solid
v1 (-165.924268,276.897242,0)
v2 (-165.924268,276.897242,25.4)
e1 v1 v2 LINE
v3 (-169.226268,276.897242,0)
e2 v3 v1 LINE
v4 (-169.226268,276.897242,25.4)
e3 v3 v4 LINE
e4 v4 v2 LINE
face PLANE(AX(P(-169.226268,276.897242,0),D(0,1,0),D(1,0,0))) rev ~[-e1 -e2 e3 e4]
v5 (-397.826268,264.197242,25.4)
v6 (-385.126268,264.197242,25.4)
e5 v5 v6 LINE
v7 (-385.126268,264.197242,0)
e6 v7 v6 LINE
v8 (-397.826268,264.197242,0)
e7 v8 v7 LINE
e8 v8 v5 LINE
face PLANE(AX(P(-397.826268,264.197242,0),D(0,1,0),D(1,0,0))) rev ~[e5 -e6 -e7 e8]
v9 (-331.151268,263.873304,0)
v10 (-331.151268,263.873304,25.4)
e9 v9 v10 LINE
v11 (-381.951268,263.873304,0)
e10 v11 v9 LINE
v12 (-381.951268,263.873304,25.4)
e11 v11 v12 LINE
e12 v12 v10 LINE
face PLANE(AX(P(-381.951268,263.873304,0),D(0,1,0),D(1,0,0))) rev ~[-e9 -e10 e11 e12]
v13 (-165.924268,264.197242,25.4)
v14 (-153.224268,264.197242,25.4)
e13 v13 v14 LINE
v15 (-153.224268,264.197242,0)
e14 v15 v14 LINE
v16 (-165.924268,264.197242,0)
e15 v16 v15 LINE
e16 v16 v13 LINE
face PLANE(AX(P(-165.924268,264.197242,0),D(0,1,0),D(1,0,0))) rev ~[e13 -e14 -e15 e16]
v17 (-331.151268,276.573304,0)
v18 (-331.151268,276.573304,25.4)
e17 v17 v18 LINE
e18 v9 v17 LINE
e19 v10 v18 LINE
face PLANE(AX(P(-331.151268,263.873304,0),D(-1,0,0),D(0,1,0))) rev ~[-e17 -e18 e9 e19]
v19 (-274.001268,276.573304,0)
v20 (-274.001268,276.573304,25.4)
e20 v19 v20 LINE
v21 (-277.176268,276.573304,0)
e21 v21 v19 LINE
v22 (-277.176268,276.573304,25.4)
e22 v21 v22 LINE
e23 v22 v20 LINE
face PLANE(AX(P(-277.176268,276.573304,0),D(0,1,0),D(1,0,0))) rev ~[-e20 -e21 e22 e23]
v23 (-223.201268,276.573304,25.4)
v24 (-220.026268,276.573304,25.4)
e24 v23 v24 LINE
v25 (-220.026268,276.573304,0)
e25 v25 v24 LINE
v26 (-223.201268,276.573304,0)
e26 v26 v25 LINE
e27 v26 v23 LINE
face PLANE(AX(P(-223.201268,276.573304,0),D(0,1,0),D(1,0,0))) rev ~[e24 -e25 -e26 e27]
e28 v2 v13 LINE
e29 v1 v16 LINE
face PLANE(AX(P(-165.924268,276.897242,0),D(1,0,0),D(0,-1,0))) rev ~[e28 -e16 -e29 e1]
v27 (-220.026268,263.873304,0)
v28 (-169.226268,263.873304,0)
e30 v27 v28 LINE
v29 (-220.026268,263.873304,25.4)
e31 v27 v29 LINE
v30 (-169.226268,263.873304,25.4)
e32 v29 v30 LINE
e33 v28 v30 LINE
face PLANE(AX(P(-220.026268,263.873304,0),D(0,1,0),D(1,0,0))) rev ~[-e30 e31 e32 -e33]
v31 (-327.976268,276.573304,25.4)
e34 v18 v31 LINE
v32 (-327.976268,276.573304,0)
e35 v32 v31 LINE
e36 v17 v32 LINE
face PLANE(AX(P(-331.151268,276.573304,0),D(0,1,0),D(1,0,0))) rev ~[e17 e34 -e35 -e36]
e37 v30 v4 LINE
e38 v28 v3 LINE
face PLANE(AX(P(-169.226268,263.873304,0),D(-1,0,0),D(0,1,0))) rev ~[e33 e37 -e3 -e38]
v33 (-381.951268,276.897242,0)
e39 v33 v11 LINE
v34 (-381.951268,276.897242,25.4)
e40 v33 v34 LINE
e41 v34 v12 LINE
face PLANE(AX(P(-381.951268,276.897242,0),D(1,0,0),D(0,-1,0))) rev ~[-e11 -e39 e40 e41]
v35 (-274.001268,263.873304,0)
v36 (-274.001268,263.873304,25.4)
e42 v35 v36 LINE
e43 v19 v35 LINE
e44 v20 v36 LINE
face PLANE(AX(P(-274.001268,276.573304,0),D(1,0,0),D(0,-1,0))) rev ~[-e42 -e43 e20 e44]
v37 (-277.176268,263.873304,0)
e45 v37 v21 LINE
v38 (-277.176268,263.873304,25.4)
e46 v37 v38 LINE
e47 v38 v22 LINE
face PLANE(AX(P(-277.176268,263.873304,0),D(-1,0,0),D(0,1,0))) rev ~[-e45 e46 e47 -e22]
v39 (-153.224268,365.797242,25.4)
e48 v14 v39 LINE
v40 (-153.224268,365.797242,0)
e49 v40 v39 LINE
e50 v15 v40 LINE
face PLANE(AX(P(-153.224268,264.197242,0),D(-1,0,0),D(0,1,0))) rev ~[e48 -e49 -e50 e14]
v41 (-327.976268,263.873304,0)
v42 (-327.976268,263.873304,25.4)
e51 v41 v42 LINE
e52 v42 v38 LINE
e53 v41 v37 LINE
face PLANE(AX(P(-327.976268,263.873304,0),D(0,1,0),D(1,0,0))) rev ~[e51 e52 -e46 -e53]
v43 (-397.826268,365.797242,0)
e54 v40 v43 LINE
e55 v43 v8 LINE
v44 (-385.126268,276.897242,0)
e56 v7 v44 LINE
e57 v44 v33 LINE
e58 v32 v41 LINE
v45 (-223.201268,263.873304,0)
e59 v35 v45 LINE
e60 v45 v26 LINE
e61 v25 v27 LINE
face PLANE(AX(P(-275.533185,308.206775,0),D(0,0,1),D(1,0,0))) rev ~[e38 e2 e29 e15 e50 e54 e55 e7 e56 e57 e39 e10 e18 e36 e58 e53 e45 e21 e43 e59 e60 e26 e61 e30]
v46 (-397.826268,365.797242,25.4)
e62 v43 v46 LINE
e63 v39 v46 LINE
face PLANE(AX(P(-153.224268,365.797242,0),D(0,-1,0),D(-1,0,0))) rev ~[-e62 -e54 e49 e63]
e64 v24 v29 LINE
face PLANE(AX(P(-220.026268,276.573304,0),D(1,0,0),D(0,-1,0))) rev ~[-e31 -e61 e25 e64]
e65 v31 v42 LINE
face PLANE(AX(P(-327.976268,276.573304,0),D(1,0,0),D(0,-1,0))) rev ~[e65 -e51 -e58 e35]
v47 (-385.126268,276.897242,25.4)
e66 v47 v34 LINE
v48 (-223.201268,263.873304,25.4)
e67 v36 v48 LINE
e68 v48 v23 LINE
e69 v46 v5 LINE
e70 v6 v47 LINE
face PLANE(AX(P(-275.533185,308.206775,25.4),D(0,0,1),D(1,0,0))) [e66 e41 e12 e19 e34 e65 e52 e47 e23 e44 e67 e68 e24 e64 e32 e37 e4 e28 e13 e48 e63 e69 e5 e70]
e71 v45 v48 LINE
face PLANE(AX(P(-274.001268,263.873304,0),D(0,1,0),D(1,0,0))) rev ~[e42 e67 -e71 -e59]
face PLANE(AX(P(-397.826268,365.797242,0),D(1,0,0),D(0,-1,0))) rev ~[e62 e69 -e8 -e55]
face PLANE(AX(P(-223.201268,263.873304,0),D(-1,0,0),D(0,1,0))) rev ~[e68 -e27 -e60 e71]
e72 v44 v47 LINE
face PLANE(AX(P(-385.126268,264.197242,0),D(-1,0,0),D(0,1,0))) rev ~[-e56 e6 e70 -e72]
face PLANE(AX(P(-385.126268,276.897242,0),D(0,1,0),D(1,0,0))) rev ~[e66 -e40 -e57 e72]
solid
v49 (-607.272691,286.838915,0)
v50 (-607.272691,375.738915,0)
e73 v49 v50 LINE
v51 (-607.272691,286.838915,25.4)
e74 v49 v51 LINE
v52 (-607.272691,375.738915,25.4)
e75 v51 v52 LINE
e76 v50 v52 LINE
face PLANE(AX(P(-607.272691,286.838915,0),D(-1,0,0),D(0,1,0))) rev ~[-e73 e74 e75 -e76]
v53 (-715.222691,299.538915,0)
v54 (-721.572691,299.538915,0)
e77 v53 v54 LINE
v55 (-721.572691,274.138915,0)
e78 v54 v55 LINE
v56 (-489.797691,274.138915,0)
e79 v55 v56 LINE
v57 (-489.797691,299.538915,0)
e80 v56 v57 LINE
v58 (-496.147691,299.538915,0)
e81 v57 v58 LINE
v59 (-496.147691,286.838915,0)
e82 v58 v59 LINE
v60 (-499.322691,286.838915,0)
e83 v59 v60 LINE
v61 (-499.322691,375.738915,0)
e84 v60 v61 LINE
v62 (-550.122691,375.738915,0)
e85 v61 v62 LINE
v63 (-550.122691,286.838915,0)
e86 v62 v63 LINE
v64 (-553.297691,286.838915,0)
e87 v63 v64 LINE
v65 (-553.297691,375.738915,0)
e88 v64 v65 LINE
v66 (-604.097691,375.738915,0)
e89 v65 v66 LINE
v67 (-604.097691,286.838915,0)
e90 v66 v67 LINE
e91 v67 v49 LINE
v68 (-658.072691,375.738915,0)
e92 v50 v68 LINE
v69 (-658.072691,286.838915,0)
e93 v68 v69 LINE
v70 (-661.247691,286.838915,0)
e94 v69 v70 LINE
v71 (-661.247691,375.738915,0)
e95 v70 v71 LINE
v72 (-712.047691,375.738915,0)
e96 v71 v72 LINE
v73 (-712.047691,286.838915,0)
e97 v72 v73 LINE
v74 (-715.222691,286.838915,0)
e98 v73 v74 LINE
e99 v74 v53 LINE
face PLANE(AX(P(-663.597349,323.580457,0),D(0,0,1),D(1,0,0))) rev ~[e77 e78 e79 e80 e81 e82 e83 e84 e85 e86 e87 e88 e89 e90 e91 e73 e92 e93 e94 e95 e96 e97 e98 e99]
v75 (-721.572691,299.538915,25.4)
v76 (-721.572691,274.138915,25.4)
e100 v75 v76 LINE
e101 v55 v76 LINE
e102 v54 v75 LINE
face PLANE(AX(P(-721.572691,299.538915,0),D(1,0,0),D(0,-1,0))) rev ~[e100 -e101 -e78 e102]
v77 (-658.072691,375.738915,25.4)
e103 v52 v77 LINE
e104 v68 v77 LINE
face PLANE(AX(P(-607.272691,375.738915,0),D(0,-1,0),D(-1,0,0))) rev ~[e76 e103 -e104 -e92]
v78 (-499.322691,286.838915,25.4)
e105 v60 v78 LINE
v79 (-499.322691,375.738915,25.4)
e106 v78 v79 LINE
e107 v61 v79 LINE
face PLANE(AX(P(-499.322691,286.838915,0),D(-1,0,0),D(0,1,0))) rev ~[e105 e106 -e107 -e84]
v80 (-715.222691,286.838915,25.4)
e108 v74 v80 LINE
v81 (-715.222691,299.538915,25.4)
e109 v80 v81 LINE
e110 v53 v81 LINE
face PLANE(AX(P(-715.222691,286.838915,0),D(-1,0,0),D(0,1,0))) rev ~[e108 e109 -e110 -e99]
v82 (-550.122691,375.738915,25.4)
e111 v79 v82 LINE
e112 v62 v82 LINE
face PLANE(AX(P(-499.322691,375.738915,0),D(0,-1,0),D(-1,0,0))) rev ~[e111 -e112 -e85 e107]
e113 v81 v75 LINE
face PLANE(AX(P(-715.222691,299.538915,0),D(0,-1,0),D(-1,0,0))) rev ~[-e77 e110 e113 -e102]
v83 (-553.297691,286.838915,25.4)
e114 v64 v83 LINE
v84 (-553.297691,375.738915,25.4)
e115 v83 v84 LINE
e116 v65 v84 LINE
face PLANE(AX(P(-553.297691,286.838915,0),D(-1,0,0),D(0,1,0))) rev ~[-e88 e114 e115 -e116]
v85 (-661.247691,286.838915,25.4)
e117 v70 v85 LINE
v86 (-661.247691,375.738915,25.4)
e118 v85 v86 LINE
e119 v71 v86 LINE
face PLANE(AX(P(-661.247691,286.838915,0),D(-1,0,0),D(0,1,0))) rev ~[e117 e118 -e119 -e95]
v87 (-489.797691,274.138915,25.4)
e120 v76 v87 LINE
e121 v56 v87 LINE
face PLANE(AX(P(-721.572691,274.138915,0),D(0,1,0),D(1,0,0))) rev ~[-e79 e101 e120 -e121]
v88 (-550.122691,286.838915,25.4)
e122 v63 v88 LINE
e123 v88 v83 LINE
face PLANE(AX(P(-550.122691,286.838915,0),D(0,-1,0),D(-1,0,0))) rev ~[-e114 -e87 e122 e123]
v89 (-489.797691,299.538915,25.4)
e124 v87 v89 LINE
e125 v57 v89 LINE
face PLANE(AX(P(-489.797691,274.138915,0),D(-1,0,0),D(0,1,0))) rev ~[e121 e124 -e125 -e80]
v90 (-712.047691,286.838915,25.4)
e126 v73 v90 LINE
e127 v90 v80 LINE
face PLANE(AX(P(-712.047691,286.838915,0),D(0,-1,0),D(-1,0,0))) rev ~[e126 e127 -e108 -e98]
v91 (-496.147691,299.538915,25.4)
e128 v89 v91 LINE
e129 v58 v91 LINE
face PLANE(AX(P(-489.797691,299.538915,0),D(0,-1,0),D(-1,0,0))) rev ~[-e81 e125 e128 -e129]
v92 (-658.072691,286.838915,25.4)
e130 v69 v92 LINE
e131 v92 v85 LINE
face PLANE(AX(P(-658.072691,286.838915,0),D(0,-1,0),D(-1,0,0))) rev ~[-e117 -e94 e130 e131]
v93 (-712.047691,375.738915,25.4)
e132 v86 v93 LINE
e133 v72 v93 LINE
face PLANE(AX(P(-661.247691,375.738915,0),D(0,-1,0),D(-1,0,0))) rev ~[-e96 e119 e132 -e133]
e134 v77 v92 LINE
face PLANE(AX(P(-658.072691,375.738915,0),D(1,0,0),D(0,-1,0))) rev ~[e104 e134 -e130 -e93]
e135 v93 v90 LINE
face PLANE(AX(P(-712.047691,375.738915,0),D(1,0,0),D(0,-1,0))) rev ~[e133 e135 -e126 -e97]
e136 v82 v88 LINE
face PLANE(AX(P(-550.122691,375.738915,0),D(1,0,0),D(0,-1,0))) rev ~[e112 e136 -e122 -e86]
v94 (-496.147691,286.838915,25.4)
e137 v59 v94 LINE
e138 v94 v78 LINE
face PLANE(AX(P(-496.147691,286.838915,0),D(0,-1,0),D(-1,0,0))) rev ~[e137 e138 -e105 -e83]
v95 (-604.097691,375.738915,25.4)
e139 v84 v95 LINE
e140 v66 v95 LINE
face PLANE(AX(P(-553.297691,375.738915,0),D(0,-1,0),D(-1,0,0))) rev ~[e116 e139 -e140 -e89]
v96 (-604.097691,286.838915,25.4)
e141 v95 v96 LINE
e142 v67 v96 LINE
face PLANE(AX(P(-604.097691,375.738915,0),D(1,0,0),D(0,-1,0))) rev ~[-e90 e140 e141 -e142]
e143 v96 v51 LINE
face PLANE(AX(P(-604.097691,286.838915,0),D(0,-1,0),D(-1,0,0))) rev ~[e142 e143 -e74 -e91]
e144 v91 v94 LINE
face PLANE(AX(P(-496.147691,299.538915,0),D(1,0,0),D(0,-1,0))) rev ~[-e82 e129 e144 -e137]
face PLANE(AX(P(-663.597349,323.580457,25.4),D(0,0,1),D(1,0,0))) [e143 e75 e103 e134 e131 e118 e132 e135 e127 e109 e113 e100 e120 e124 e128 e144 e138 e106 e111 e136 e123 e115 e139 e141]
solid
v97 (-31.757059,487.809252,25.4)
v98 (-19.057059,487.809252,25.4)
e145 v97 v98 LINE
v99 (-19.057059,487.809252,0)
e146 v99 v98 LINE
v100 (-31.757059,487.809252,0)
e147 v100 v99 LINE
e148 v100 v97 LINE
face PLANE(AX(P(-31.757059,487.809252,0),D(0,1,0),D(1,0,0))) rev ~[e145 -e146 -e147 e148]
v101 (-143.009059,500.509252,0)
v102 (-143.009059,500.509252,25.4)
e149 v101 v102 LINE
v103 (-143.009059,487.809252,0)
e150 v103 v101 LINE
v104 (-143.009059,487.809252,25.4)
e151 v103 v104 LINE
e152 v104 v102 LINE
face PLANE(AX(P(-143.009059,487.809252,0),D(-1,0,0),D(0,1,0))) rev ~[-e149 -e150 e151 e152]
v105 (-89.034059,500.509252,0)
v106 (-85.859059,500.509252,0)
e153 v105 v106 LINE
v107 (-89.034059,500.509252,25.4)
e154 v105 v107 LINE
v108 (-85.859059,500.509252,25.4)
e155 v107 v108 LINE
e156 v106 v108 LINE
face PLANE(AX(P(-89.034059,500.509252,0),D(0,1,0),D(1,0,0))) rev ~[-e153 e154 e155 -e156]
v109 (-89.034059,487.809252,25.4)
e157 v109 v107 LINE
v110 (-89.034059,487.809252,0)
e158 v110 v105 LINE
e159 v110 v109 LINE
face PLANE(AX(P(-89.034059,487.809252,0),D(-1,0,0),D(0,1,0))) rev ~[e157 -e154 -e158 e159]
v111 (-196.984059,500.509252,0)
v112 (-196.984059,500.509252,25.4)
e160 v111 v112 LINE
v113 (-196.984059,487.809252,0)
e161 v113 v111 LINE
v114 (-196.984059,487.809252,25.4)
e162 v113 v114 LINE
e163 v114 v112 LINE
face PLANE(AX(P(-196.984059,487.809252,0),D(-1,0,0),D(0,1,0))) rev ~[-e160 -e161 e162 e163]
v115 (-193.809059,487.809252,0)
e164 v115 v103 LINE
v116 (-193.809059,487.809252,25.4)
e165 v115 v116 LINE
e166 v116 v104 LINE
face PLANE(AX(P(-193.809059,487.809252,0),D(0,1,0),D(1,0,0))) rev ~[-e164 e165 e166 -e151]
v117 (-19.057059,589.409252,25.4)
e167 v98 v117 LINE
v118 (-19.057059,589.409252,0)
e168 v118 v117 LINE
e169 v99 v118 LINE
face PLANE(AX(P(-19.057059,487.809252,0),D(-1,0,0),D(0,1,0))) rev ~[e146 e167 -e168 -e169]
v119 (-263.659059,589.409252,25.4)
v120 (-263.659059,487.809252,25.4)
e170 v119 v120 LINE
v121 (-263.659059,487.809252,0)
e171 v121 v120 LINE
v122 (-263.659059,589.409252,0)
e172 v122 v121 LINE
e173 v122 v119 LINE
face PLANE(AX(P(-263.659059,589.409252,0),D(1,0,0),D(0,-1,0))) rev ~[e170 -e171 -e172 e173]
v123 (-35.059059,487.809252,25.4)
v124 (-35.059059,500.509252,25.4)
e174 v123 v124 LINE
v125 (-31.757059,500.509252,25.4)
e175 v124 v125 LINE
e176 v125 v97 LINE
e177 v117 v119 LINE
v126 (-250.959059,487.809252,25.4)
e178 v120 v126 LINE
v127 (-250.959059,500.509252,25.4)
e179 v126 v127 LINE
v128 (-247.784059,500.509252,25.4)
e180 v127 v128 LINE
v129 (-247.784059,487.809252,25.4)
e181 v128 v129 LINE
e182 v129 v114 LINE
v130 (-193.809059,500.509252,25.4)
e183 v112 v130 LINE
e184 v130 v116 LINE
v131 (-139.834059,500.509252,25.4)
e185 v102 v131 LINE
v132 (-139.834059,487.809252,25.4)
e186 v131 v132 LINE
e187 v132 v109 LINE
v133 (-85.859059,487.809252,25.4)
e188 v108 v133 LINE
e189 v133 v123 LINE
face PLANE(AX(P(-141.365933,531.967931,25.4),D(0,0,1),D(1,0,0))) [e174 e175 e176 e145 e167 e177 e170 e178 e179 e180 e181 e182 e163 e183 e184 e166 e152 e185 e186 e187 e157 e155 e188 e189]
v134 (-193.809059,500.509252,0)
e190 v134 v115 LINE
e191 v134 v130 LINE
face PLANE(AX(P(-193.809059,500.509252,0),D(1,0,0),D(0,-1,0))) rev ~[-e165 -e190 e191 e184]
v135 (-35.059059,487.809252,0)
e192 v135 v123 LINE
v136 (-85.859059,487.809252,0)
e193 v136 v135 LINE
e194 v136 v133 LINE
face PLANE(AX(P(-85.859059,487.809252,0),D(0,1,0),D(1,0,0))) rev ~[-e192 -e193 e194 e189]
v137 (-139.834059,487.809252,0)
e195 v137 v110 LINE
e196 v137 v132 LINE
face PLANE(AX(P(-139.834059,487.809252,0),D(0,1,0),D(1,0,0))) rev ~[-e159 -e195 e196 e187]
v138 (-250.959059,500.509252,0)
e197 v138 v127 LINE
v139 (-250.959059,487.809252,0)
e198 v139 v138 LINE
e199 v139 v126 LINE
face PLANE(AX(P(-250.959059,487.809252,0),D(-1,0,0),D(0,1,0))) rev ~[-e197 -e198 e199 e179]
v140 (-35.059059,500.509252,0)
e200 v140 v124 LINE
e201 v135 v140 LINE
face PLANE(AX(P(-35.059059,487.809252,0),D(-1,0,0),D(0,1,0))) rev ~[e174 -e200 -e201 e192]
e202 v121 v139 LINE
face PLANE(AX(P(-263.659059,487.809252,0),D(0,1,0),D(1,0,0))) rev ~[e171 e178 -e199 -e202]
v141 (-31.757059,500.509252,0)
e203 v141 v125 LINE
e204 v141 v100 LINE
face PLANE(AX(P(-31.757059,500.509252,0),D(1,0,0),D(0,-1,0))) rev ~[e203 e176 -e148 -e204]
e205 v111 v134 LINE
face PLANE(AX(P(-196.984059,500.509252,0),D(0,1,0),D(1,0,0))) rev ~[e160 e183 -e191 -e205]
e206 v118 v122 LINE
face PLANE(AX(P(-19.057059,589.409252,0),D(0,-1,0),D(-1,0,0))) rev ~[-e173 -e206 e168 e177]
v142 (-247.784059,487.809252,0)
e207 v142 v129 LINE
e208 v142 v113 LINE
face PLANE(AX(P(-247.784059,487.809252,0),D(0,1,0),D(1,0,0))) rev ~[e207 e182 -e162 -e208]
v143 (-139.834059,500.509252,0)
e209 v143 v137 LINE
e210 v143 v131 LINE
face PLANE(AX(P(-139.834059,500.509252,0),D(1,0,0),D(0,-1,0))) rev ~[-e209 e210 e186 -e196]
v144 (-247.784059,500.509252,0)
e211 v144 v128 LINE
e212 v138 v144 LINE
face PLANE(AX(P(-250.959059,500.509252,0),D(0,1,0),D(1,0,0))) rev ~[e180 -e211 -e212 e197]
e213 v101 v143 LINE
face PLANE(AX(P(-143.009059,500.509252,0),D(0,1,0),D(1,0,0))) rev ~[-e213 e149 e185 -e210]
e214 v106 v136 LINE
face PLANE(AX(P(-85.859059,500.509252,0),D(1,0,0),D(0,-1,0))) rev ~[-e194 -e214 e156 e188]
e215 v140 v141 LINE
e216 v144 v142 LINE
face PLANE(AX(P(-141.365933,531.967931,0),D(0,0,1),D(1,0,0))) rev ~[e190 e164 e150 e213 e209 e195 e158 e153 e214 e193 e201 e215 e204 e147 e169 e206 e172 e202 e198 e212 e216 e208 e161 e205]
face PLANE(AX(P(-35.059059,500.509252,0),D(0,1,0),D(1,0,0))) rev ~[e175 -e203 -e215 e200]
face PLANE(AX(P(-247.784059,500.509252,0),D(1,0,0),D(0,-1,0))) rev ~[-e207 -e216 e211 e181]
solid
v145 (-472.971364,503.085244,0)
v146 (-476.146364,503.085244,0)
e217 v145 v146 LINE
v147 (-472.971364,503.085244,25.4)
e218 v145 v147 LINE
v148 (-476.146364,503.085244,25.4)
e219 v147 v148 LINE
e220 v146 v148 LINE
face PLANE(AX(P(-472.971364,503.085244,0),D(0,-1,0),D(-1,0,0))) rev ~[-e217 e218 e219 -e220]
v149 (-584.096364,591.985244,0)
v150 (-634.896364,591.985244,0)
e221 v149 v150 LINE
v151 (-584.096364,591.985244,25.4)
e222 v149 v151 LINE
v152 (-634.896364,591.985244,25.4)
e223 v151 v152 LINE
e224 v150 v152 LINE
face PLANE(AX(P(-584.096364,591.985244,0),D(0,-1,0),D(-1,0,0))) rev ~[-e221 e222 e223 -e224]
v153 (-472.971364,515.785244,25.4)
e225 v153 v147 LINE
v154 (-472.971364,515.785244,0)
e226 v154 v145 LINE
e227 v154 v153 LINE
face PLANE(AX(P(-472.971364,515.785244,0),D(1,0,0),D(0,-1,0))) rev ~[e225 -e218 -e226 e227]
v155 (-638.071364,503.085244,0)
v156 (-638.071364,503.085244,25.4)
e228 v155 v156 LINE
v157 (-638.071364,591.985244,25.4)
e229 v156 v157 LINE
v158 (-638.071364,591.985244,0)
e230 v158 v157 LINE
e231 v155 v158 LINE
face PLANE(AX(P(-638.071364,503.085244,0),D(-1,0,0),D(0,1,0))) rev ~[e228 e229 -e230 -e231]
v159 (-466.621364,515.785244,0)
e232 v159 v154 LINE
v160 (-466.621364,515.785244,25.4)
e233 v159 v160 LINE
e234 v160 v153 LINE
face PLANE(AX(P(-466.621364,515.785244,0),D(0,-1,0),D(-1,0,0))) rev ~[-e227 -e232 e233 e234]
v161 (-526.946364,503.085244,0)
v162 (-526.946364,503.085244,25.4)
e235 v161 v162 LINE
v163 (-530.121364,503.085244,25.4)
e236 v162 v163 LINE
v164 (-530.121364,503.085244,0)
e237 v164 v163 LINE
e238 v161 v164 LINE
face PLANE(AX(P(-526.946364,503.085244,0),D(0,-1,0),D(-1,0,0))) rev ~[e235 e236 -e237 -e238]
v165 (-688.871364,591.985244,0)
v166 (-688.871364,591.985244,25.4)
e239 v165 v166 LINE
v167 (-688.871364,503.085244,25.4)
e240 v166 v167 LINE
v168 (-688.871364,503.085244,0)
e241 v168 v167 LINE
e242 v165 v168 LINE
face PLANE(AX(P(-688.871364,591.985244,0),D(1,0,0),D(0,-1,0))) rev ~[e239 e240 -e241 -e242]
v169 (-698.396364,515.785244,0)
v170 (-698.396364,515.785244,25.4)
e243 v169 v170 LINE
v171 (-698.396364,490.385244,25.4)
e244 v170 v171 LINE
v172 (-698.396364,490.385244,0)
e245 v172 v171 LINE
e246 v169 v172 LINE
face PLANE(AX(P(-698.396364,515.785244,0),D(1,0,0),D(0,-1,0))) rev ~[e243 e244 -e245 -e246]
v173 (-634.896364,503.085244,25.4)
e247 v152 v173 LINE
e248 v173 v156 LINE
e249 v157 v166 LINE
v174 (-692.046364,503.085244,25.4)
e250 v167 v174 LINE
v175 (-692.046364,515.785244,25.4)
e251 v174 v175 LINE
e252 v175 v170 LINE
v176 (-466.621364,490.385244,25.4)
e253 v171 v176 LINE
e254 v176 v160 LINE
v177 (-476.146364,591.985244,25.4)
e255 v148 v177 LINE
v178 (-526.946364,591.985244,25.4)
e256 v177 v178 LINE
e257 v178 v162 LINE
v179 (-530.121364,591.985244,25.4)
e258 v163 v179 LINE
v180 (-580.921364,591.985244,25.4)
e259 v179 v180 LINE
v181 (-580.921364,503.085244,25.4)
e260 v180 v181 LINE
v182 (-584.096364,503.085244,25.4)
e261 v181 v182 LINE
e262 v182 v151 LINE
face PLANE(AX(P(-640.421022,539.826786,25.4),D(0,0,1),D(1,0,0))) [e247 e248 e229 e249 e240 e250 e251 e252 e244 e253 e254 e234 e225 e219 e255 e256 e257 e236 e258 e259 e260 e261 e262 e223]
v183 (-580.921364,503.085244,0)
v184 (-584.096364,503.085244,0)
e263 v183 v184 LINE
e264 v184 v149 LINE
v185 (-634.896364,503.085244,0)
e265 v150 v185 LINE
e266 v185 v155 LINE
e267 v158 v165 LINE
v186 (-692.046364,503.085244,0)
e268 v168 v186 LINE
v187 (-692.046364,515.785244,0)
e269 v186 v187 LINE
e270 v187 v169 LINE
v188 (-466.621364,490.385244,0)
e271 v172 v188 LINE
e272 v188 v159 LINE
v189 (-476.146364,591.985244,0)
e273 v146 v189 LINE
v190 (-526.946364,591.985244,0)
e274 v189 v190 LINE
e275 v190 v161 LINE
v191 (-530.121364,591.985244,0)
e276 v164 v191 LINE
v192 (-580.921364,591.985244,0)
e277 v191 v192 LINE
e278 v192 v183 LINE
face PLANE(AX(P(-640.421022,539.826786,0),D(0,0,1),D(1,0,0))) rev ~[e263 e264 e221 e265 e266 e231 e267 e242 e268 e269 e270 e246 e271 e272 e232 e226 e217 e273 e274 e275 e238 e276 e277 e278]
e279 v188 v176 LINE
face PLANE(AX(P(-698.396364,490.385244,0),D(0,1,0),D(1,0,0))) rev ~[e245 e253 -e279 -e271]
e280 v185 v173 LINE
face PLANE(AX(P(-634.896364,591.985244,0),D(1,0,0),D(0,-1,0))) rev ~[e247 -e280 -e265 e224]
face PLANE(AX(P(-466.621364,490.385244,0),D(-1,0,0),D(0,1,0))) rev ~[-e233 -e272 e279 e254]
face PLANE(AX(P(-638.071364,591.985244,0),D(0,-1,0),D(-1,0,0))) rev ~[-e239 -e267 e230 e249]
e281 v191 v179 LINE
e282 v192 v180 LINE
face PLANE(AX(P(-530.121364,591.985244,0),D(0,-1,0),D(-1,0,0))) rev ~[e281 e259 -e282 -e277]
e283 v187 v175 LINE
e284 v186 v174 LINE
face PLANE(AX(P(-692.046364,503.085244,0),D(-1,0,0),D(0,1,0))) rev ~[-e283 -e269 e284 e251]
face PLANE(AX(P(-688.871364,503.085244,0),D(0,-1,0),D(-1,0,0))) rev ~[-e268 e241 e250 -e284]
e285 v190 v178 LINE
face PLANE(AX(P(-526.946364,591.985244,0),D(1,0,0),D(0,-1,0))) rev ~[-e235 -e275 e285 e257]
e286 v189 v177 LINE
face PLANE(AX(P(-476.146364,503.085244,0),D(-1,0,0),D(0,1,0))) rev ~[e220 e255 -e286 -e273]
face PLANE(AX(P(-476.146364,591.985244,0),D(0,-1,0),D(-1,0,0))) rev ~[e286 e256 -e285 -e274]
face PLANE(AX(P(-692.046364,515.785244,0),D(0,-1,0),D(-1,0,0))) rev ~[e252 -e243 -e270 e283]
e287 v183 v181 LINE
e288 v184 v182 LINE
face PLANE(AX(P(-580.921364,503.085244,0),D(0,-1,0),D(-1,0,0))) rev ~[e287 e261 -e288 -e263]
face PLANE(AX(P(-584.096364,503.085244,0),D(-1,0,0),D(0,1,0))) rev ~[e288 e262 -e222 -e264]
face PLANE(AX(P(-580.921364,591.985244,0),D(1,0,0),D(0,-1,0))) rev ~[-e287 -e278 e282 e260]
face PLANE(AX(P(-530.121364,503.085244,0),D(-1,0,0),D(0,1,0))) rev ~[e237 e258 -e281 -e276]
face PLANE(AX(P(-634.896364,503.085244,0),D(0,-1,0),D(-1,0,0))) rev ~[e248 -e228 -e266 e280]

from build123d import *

# Parameters (mm, degrees)
F1_DEPTH = 25.4


with BuildPart() as f1:
    # F0 (on Top) → F1 (new body)
    with BuildSketch(Plane.XY):
        Polygon((-698.396364, 490.385244), (-688.871364, 490.385244), (-582.508864, 490.385244), (-582.508864, 503.085244), (-584.096364, 503.085244), (-584.096364, 591.985244), (-634.896364, 591.985244), (-634.896364, 503.085244), (-638.071364, 503.085244), (-638.071364, 591.985244), (-688.871364, 591.985244), (-688.871364, 503.085244), (-692.046364, 503.085244), (-692.046364, 515.785244), (-698.396364, 515.785244), align=None)
        Polygon((-582.508864, 503.085244), (-582.508864, 490.385244), (-476.146364, 490.385244), (-466.621364, 490.385244), (-466.621364, 515.785244), (-472.971364, 515.785244), (-472.971364, 503.085244), (-476.146364, 503.085244), (-476.146364, 591.985244), (-526.946364, 591.985244), (-526.946364, 503.085244), (-530.121364, 503.085244), (-530.121364, 591.985244), (-580.921364, 591.985244), (-580.921364, 503.085244), align=None)
        Polygon((-247.784059, 500.509252), (-247.784059, 487.809252), (-196.984059, 487.809252), (-196.984059, 500.509252), (-193.809059, 500.509252), (-193.809059, 487.809252), (-143.009059, 487.809252), (-143.009059, 500.509252), (-139.834059, 500.509252), (-139.834059, 487.809252), (-89.034059, 487.809252), (-89.034059, 500.509252), (-85.859059, 500.509252), (-85.859059, 487.809252), (-35.059059, 487.809252), (-35.059059, 500.509252), (-31.757059, 500.509252), (-31.757059, 487.809252), (-19.057059, 487.809252), (-19.057059, 589.409252), (-263.659059, 589.409252), (-263.659059, 487.809252), (-250.959059, 487.809252), (-250.959059, 500.509252), align=None)
        Polygon((-381.951268, 276.897242), (-381.951268, 263.873304), (-331.151268, 263.873304), (-331.151268, 276.573304), (-327.976268, 276.573304), (-327.976268, 263.873304), (-277.176268, 263.873304), (-277.176268, 276.573304), (-274.001268, 276.573304), (-274.001268, 263.873304), (-223.201268, 263.873304), (-223.201268, 276.573304), (-220.026268, 276.573304), (-220.026268, 263.873304), (-169.226268, 263.873304), (-169.226268, 276.897242), (-165.924268, 276.897242), (-165.924268, 264.197242), (-153.224268, 264.197242), (-153.224268, 365.797242), (-397.826268, 365.797242), (-397.826268, 264.197242), (-385.126268, 264.197242), (-385.126268, 276.897242), align=None)
        Polygon((-721.572691, 274.138915), (-712.047691, 274.138915), (-605.685191, 274.138915), (-605.685191, 286.838915), (-607.272691, 286.838915), (-607.272691, 375.738915), (-658.072691, 375.738915), (-658.072691, 286.838915), (-661.247691, 286.838915), (-661.247691, 375.738915), (-712.047691, 375.738915), (-712.047691, 286.838915), (-715.222691, 286.838915), (-715.222691, 299.538915), (-721.572691, 299.538915), align=None)
        Polygon((-605.685191, 286.838915), (-605.685191, 274.138915), (-499.322691, 274.138915), (-489.797691, 274.138915), (-489.797691, 299.538915), (-496.147691, 299.538915), (-496.147691, 286.838915), (-499.322691, 286.838915), (-499.322691, 375.738915), (-550.122691, 375.738915), (-550.122691, 286.838915), (-553.297691, 286.838915), (-553.297691, 375.738915), (-604.097691, 375.738915), (-604.097691, 286.838915), align=None)
    extrude(amount=F1_DEPTH)


solid = f1.part
